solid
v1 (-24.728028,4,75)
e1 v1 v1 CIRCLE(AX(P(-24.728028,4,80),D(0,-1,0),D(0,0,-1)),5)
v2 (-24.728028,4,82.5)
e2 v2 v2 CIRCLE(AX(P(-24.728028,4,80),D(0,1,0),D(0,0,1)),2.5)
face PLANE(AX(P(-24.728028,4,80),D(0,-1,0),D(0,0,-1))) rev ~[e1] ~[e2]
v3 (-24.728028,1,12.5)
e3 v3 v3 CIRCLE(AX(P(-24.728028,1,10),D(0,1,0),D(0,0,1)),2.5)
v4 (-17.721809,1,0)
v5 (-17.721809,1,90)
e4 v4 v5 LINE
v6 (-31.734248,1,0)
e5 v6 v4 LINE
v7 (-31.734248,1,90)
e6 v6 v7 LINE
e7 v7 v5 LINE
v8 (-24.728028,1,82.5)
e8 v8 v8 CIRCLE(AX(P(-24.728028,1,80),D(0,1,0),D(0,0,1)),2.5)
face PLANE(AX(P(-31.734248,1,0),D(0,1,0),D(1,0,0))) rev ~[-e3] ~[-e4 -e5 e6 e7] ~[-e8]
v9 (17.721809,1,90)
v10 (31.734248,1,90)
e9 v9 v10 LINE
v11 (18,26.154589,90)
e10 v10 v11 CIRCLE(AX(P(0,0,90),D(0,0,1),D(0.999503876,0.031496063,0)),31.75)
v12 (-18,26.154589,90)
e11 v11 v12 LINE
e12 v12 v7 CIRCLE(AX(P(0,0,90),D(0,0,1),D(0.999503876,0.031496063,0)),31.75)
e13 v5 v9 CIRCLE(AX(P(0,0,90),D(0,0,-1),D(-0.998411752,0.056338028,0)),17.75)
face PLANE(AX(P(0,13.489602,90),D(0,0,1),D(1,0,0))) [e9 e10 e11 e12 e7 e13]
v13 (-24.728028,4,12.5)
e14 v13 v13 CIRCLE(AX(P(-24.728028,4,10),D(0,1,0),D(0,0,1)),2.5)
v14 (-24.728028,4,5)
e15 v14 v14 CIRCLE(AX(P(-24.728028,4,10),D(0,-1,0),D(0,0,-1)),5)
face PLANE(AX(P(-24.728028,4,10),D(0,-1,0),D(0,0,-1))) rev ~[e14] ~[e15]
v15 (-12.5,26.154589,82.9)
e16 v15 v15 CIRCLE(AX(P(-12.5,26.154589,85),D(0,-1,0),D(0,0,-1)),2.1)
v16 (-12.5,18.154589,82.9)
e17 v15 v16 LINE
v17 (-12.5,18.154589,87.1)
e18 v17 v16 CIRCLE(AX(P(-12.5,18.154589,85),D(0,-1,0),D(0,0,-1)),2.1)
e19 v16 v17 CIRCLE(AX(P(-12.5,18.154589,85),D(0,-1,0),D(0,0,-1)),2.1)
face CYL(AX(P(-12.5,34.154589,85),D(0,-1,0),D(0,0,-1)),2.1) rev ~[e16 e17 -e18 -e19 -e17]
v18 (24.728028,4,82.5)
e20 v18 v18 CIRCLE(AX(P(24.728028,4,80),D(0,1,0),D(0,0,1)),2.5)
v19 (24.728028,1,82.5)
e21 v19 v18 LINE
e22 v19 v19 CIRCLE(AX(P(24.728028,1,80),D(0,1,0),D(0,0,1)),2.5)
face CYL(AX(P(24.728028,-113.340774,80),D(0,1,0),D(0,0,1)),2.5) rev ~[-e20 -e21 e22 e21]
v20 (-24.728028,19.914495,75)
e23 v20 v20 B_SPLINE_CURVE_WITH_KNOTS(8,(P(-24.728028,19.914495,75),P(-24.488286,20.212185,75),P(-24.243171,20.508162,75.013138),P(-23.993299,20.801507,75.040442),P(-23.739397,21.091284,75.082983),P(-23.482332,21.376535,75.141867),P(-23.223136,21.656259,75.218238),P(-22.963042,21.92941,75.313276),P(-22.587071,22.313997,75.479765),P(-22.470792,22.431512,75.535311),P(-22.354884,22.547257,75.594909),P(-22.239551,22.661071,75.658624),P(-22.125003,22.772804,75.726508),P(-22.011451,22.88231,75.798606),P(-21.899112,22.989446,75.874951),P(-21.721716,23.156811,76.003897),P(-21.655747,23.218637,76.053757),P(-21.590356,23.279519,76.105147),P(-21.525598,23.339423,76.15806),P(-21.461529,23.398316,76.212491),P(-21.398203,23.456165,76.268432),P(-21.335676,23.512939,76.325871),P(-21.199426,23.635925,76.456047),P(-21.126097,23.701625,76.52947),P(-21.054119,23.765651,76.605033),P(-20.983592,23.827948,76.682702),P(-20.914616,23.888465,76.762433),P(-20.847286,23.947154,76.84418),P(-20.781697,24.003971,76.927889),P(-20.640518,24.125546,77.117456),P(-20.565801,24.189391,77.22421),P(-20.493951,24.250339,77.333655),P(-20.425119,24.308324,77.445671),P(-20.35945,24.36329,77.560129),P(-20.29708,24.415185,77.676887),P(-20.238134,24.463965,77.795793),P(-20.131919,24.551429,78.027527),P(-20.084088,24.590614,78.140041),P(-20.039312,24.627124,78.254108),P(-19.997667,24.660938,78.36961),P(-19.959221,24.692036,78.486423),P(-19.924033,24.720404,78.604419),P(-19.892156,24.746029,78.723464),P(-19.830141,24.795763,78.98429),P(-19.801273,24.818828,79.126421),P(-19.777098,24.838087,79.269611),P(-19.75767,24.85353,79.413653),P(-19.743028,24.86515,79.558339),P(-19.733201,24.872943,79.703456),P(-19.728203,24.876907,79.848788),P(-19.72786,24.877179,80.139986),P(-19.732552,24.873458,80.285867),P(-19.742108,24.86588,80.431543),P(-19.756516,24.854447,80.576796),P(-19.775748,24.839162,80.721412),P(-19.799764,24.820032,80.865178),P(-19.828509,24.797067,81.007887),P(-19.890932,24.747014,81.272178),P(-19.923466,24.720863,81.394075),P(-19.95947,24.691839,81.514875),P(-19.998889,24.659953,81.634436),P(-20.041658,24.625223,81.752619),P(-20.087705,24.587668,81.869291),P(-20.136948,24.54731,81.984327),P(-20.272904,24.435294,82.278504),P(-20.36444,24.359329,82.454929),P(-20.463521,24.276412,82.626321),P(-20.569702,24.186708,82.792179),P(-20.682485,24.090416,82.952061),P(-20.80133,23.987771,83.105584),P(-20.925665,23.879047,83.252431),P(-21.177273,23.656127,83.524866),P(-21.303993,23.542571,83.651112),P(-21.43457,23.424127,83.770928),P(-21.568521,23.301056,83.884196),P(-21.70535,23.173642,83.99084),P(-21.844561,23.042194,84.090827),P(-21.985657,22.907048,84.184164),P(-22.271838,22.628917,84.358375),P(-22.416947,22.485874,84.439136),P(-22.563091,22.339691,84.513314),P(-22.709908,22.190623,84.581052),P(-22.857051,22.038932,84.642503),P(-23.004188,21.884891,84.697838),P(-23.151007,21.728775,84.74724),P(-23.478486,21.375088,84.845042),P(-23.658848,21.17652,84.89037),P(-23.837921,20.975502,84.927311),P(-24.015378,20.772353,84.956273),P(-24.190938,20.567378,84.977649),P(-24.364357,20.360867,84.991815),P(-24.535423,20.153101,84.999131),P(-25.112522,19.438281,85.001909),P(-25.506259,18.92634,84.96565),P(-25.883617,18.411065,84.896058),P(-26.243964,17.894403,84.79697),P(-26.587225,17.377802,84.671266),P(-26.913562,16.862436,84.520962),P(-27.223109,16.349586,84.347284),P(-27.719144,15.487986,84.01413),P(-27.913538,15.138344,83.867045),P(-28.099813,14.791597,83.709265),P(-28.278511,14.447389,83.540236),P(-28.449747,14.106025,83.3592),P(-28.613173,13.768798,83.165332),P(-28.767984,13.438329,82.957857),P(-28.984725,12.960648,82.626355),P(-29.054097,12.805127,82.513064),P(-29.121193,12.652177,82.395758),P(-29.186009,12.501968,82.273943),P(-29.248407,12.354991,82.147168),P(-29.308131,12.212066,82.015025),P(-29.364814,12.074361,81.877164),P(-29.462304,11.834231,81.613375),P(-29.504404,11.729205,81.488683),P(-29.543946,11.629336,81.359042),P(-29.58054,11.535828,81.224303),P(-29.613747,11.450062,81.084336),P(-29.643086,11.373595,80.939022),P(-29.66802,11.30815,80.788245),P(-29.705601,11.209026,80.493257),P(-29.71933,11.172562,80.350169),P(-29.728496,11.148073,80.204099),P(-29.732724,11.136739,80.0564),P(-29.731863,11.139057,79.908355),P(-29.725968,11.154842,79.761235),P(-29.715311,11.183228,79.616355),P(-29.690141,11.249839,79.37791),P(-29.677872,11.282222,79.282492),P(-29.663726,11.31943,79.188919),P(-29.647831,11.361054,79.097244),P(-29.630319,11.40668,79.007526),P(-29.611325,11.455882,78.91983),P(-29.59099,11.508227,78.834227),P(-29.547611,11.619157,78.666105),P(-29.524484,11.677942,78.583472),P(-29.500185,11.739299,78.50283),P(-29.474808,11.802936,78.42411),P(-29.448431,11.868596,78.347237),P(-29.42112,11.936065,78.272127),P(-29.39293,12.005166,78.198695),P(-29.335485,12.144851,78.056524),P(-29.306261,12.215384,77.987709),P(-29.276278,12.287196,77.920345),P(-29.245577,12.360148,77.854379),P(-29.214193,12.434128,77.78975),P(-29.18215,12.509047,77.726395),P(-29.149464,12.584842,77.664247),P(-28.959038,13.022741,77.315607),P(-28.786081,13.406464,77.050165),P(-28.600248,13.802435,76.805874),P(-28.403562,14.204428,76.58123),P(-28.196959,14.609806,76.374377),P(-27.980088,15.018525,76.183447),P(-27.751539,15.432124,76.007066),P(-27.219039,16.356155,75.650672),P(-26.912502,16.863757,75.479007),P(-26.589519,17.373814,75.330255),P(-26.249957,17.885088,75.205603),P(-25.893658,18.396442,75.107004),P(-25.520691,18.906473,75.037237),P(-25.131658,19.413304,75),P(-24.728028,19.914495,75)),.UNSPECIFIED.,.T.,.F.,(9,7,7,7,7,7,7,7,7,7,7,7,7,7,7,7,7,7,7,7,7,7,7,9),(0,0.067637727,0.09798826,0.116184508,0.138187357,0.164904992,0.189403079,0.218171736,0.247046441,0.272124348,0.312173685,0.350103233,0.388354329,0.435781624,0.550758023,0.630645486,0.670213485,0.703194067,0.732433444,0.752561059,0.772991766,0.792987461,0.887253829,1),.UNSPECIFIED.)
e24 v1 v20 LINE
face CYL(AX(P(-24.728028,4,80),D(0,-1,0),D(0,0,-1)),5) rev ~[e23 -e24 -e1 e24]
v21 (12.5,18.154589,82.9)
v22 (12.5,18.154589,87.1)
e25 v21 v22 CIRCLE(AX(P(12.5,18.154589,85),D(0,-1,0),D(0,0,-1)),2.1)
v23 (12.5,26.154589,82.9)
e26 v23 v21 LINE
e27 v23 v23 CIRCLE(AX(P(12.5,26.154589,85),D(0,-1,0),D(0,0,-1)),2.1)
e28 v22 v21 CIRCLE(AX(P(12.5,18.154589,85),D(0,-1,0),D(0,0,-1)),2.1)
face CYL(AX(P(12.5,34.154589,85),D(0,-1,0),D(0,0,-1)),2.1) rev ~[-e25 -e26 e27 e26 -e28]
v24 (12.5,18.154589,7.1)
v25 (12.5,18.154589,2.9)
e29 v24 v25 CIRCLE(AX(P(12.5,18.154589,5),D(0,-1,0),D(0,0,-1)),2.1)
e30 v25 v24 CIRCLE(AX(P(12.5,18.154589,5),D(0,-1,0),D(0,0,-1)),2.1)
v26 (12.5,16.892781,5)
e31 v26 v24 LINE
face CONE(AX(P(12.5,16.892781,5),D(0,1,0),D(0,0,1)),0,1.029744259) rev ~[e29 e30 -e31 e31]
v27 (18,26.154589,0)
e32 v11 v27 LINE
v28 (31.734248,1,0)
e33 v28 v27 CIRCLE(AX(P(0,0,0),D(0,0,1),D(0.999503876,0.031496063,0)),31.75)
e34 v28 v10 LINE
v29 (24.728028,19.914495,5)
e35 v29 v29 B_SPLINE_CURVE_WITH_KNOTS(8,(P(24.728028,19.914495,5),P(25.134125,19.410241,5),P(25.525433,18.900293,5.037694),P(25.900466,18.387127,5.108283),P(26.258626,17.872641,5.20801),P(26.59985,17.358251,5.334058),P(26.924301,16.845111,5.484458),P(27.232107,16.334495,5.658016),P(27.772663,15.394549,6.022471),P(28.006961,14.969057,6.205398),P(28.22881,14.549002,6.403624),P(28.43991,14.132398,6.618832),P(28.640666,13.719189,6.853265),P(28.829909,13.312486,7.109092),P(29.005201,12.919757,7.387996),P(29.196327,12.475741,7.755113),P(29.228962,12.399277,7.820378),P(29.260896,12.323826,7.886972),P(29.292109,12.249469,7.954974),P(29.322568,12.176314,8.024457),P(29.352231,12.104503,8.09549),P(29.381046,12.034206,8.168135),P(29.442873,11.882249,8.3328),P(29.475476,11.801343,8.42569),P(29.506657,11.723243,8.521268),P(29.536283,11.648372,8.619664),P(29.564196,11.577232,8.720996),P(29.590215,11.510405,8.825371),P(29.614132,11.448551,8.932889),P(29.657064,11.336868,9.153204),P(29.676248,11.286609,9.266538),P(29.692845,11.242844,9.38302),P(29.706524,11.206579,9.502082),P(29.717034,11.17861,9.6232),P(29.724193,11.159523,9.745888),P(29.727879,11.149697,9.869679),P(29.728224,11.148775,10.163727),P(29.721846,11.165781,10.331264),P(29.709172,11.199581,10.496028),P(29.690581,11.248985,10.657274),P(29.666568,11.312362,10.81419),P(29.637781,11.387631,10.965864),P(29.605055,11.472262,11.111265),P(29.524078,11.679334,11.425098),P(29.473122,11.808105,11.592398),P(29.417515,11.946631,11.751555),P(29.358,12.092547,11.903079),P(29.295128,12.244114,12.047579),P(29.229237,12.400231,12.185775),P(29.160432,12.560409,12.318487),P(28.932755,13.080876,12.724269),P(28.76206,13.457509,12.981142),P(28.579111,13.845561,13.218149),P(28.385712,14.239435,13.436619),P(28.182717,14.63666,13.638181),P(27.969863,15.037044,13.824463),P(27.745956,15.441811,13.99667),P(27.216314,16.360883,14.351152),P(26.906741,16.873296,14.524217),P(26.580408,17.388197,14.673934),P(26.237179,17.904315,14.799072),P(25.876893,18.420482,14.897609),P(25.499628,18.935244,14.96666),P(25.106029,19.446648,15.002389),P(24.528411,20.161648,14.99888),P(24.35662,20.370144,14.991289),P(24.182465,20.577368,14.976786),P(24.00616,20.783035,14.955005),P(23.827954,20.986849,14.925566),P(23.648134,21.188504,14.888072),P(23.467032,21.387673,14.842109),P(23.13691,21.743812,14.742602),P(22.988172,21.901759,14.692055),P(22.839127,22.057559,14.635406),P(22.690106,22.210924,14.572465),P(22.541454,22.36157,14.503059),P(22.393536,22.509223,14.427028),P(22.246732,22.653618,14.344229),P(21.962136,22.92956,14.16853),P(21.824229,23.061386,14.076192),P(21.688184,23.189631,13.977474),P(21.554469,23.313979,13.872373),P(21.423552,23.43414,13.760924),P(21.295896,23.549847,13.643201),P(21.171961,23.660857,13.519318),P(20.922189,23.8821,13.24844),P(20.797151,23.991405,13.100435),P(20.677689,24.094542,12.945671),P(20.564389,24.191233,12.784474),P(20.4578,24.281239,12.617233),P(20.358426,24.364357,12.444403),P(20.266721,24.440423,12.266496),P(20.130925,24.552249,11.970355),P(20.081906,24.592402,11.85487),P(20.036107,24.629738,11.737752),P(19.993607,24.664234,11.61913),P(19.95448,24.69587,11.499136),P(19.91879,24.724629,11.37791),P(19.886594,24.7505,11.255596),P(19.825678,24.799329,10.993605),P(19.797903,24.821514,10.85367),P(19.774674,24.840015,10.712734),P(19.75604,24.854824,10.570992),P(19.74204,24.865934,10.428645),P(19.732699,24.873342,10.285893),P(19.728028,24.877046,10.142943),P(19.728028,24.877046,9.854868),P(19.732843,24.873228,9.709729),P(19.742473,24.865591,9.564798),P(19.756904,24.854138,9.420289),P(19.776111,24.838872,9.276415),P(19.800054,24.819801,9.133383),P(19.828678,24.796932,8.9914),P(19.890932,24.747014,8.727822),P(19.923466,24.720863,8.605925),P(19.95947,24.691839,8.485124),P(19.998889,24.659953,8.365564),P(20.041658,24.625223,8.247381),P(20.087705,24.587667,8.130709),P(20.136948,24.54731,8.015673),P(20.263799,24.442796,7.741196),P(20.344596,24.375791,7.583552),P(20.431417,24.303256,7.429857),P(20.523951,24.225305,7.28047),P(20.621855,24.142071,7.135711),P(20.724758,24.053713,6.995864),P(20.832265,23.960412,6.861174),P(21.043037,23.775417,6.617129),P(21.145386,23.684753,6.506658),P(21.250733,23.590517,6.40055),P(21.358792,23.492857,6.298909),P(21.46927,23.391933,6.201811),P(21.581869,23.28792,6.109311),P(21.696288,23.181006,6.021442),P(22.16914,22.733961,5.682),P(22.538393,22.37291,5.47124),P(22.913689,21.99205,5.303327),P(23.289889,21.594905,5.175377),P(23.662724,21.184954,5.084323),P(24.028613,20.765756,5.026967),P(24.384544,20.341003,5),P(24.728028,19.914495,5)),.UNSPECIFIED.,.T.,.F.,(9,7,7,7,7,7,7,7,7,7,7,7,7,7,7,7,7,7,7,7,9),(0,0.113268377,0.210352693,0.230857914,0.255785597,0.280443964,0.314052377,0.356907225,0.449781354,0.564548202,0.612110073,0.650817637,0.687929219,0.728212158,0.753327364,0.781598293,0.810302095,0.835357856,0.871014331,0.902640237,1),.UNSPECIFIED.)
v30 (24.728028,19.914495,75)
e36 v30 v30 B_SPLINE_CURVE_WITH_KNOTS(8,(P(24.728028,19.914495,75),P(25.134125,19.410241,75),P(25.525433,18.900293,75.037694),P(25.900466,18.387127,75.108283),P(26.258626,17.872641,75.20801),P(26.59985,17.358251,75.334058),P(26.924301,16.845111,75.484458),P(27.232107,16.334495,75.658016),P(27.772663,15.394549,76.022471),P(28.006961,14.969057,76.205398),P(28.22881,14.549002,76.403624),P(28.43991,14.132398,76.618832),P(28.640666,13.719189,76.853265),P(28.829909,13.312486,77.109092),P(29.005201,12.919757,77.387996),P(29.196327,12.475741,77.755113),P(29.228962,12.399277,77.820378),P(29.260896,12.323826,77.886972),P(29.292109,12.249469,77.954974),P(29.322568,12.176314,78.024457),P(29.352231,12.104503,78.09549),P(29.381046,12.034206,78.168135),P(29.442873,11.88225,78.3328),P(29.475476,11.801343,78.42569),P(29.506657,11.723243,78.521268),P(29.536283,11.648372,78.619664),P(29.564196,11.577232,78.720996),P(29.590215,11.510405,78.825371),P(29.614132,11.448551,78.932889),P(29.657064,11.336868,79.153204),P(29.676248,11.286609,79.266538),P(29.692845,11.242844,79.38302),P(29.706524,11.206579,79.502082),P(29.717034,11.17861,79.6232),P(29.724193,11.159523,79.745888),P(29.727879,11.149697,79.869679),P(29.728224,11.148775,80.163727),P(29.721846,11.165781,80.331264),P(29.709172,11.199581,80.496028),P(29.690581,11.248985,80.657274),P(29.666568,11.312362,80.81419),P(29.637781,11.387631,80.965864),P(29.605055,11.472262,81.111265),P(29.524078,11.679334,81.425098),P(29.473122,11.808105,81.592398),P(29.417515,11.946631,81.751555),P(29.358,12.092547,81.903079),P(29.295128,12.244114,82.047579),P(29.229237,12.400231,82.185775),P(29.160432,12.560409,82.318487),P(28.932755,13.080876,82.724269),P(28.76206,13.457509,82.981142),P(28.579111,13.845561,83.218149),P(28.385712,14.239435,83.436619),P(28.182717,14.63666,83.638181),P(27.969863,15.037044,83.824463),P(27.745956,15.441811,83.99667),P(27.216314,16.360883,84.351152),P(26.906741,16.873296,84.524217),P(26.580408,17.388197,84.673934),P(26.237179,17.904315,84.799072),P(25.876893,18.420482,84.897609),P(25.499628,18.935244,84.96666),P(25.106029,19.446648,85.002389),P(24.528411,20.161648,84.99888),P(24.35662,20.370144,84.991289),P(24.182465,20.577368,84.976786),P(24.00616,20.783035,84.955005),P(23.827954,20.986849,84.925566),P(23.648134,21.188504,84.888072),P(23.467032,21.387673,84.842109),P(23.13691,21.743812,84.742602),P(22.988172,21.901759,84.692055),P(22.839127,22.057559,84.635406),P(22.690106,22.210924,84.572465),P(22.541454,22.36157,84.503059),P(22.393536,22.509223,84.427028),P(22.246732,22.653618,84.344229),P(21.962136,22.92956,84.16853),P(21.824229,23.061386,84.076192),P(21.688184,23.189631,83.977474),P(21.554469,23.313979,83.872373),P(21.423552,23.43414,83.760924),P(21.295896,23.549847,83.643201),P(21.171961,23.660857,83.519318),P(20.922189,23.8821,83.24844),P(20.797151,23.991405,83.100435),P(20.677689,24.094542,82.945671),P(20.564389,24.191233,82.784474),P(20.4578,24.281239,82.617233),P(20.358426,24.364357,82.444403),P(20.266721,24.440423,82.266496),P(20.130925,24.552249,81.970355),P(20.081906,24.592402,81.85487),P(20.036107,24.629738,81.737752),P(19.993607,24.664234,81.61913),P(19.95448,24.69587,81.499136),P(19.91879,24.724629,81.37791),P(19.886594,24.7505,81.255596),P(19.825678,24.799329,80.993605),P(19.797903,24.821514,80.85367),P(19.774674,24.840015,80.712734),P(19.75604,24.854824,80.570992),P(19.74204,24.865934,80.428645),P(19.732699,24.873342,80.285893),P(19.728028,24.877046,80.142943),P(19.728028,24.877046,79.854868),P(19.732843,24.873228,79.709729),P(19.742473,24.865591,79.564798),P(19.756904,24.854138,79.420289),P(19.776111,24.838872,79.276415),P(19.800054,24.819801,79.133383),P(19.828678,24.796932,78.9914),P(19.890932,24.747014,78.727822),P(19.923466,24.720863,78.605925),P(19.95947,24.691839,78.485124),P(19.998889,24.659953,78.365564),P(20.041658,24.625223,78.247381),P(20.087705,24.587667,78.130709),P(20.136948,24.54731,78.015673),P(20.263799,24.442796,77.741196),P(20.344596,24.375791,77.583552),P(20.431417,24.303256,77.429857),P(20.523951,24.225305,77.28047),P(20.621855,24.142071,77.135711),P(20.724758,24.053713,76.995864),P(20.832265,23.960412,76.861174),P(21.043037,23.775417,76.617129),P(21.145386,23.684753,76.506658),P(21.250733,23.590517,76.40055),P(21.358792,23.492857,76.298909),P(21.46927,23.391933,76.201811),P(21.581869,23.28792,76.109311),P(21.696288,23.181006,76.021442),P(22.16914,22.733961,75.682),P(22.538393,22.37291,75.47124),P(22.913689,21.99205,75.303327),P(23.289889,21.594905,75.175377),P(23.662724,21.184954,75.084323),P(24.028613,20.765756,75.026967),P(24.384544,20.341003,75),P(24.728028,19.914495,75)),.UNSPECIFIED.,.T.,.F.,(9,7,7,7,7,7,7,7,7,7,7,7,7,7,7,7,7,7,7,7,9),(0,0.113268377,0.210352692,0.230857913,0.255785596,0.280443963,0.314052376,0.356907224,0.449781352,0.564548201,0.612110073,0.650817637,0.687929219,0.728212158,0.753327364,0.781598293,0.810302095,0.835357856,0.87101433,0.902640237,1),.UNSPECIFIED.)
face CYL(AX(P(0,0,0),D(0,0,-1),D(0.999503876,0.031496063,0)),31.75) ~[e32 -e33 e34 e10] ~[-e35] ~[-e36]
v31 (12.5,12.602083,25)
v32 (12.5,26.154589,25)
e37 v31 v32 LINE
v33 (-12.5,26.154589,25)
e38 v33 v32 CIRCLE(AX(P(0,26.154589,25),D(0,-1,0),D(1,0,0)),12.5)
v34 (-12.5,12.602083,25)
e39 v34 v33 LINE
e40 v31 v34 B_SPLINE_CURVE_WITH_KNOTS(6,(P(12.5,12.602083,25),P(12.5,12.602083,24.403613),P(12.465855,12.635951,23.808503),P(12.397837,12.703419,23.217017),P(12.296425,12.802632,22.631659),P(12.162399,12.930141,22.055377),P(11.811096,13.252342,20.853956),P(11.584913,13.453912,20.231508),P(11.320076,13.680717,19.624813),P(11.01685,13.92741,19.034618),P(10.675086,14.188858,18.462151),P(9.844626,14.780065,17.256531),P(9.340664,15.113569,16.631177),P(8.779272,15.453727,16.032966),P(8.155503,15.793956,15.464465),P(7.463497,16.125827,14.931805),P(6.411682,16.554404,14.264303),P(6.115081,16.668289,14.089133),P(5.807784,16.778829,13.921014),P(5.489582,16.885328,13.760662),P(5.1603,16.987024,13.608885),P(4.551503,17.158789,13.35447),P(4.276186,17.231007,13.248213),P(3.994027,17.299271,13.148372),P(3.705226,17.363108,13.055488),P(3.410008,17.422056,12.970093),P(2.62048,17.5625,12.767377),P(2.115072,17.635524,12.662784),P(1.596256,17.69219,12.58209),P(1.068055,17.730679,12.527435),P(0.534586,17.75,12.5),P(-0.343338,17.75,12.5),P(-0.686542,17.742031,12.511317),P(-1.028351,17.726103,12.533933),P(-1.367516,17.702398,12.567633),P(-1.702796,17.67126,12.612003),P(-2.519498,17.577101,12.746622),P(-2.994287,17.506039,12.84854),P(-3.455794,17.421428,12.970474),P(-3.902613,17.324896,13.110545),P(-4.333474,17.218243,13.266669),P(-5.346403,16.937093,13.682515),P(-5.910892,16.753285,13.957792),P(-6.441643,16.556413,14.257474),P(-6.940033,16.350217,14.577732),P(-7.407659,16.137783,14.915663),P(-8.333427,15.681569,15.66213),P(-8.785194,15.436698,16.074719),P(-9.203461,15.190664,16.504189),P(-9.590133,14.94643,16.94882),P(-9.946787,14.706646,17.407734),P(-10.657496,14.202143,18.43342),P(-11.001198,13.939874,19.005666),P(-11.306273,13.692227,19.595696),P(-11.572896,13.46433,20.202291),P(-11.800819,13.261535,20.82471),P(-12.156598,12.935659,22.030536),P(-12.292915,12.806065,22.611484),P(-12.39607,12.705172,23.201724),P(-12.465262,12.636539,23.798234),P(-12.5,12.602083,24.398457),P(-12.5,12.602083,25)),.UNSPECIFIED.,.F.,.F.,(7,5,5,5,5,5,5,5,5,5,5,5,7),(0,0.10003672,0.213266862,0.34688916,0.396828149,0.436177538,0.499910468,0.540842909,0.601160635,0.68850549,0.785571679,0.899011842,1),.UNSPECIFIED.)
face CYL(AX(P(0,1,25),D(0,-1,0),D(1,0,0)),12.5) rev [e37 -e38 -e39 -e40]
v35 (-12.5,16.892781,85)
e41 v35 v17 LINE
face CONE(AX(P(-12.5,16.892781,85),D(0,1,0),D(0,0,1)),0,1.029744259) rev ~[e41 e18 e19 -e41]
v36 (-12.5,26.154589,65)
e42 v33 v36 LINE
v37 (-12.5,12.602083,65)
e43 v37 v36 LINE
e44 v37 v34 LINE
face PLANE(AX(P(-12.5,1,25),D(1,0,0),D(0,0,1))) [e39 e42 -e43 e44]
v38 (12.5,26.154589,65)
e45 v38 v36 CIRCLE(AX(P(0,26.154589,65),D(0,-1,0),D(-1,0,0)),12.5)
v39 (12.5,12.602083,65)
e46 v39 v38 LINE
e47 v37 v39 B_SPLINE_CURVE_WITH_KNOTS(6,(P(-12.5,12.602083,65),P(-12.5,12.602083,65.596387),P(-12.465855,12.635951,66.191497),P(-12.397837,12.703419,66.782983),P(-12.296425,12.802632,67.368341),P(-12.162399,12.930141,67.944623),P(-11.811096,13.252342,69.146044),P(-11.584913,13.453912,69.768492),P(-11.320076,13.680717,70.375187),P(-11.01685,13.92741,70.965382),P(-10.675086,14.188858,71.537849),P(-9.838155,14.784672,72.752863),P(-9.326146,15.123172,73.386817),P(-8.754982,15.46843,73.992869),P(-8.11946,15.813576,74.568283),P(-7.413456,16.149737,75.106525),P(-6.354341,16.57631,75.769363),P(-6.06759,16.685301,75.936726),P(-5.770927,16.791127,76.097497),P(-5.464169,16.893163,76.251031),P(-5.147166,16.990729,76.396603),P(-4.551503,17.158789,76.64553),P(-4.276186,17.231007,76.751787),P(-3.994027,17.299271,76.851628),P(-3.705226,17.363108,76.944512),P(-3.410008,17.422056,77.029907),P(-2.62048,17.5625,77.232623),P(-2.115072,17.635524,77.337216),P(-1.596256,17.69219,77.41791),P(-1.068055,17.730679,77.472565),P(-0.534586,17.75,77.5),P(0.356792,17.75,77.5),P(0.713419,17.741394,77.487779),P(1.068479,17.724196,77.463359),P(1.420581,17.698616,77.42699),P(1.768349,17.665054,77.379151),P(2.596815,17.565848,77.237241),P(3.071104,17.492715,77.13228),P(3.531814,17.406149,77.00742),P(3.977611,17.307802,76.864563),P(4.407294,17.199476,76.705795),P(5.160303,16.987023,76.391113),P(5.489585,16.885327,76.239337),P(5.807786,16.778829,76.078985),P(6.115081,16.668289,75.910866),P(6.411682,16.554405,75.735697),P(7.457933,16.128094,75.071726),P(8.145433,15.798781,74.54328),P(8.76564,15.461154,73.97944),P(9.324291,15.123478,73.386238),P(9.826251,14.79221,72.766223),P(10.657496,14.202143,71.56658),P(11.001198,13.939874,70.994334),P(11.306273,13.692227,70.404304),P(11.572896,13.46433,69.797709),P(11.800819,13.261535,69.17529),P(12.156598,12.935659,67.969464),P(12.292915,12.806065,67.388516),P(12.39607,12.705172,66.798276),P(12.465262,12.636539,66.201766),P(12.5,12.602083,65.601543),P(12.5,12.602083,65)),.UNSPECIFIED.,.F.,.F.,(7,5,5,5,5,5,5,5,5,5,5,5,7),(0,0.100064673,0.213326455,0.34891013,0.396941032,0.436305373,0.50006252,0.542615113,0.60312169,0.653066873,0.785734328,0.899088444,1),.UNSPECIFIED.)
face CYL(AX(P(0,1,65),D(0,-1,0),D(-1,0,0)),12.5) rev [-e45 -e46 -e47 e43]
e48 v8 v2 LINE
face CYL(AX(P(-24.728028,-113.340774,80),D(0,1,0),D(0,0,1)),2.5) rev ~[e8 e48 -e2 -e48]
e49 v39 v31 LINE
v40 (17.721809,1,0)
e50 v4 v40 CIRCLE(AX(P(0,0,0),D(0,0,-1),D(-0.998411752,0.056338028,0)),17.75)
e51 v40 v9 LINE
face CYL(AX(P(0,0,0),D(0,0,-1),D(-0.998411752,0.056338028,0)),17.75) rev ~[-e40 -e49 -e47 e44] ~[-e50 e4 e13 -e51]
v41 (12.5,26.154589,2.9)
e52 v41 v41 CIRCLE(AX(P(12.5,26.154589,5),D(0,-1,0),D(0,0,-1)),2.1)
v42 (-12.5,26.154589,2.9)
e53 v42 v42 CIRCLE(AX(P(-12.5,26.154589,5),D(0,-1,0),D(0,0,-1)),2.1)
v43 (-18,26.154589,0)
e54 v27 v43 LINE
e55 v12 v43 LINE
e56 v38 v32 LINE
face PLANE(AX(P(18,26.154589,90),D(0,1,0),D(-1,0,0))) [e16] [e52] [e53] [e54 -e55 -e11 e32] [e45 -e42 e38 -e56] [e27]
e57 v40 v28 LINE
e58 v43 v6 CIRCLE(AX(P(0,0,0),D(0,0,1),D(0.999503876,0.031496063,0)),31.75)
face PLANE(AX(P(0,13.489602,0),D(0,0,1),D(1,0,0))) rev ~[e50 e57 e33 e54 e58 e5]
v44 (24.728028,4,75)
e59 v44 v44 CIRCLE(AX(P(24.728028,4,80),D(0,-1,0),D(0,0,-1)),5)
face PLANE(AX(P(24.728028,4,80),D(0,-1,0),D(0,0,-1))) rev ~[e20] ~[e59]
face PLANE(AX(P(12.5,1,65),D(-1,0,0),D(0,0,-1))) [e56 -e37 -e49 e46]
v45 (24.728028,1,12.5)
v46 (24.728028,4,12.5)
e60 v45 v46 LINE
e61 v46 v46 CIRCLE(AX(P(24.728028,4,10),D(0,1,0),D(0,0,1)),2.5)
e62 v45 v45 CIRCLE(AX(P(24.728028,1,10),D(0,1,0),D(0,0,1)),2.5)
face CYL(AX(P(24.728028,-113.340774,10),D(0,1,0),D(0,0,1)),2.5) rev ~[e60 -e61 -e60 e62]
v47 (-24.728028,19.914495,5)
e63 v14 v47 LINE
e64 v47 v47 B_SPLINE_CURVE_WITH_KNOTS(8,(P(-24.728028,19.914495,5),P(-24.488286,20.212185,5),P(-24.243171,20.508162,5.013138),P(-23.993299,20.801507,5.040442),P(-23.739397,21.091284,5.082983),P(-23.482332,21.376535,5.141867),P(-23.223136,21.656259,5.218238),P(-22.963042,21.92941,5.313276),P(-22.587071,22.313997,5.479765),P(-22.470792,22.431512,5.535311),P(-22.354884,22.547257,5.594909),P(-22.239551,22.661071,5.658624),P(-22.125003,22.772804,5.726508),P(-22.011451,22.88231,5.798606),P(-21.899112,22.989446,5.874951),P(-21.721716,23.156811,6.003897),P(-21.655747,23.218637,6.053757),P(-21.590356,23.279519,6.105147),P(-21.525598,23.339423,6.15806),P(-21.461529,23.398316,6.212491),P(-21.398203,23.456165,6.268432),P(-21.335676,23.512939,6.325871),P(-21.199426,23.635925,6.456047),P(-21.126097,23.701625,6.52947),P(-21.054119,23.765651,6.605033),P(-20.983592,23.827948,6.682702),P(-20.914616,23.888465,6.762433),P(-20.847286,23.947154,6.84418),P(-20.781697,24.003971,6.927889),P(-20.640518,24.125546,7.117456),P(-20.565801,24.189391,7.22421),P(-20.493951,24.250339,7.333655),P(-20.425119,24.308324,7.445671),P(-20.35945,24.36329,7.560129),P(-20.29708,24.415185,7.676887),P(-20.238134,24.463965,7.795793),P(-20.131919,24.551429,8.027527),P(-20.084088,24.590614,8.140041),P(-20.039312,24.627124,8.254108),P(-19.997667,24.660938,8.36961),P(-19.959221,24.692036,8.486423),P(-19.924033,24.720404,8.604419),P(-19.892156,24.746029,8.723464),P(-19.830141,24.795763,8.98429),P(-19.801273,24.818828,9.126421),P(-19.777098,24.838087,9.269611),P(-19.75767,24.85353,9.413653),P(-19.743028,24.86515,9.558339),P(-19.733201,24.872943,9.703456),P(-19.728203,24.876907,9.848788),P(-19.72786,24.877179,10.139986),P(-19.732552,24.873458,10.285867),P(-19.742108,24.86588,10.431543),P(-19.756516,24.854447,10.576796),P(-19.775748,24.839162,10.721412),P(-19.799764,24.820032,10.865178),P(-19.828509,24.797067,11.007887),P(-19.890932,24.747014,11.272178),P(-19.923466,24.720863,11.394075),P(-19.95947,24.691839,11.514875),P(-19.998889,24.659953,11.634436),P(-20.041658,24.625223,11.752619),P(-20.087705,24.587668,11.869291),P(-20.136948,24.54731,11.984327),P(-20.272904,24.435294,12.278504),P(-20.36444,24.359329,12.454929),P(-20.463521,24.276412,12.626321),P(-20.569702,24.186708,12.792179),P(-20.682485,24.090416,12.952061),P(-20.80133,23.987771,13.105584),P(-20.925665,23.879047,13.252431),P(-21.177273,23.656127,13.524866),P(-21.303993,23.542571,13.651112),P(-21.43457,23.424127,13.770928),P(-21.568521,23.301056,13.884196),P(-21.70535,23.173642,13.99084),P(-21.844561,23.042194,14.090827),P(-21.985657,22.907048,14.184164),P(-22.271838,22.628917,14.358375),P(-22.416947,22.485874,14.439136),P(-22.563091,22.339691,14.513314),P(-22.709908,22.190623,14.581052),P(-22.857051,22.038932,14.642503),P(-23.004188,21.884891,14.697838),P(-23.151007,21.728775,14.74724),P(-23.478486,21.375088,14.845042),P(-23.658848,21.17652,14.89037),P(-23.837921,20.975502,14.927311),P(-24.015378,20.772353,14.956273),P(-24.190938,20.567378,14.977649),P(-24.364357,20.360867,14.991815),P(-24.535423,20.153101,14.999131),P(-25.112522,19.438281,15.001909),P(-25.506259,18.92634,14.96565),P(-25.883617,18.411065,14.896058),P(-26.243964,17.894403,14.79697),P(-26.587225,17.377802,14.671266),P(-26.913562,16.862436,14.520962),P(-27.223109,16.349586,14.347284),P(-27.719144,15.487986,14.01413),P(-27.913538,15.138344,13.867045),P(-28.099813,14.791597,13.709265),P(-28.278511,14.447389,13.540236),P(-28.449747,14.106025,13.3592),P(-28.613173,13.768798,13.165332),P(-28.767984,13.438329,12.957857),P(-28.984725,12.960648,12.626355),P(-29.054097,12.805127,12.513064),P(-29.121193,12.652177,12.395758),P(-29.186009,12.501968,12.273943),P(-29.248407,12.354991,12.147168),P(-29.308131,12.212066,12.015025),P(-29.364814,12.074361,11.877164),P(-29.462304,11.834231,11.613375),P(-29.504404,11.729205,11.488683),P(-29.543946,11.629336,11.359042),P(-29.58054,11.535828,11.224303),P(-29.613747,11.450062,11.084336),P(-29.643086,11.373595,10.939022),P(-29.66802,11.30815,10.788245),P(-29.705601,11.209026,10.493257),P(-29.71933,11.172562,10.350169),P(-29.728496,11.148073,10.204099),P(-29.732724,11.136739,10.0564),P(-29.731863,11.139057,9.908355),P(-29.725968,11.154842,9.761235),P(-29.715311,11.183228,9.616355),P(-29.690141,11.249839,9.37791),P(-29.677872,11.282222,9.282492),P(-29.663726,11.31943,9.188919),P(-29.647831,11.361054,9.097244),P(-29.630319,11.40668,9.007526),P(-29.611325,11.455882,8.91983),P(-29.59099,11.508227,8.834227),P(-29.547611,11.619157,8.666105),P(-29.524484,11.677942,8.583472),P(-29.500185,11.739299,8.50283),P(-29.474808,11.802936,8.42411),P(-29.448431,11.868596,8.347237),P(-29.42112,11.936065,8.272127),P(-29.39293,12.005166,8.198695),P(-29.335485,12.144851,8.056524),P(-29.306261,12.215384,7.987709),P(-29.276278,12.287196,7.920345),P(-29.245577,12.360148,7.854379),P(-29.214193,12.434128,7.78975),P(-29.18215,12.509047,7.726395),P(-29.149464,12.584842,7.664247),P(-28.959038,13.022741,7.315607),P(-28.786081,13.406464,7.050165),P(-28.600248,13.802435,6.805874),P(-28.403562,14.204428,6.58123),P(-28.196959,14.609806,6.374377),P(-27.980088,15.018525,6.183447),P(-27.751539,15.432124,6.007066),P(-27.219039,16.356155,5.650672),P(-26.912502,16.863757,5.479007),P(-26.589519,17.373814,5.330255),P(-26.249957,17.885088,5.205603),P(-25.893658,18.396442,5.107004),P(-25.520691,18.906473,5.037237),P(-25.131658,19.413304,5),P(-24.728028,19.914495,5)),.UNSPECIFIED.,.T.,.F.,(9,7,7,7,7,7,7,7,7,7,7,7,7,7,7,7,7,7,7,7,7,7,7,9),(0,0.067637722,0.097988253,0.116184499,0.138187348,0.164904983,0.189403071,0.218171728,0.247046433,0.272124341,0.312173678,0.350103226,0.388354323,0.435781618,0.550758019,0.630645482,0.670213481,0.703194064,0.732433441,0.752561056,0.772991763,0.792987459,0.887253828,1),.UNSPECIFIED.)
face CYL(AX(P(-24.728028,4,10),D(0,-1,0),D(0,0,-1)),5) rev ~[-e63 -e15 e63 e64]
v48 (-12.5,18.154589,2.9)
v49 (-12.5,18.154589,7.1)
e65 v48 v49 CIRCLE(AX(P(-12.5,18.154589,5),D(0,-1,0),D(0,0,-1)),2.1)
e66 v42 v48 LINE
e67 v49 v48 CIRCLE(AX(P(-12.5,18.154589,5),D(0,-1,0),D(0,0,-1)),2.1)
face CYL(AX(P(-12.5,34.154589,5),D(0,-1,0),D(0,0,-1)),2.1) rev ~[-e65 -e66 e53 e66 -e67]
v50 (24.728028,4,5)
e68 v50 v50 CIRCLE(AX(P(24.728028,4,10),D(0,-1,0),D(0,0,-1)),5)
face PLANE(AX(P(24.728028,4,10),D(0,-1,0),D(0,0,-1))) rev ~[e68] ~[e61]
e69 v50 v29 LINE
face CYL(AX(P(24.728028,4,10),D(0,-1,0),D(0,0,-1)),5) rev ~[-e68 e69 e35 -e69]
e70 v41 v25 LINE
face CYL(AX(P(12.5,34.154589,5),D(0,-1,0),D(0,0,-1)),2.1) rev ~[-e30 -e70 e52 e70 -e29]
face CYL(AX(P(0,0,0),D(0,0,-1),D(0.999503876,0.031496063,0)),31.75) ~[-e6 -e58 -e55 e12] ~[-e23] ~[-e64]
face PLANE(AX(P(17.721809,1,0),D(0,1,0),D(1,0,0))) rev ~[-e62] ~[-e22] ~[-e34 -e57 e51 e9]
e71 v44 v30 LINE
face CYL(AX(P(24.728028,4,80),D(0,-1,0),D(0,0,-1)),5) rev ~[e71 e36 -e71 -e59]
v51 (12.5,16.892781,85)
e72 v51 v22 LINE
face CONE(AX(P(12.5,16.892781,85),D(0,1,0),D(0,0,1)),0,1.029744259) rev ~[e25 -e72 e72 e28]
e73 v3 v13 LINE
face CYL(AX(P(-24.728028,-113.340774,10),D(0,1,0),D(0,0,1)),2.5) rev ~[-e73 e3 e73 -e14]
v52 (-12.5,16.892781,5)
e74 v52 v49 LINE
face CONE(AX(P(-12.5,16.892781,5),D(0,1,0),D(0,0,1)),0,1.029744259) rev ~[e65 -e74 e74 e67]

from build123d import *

# Parameters (mm, degrees)
BOSS_EXTRUDE1_DEPTH             = 90
F_5_0MM_CLEARANCE_DOWEL_HOLE1_D = 5
CUT_EXTRUDE1_REACH              = 101.384
CUT_EXTRUDE1_END_RADIUS         = 31.75
SKETCH4_R                       = 5
CUT_EXTRUDE3_DEPTH              = 101.5739779
CUT_EXTRUDE4_REACH              = 100.691
TAP_DRILL_FOR_M5X0_8_TAP1_D     = 4.2
TAP_DRILL_FOR_M5X0_8_TAP1_DEPTH = 8
TAP_DRILL_FOR_M5X0_8_TAP1_TIP   = 1.2618073


with BuildPart() as part:
    # Sketch1 → Boss-Extrude1 (new body)
    with BuildSketch(Plane.XY):
        with BuildLine():
            Line((-31.734248061, 1), (-17.721808598, 1))
            ThreePointArc((-17.721808598, 1), (0, 17.75), (17.721808598, 1))
            Line((17.721808598, 1), (31.734248061, 1))
            ThreePointArc((31.734248061, 1), (0, 31.75), (-31.734248061, 1))
        make_face()
    extrude(amount=BOSS_EXTRUDE1_DEPTH)

    # Ø5.0mm Clearance Dowel Hole1 (through all)
    with Locations(Plane(origin=(-24.72802833, 1, 80), x_dir=(0, 0, -1), z_dir=(0, -1, 0))):
        with Locations((0, 0), (70, 0), (0, 49.45605666), (70, 49.45605666)):
            Hole(F_5_0MM_CLEARANCE_DOWEL_HOLE1_D / 2)

    # Cut-Extrude1: up to this cylinder (the profile starts inside it)
    cut_extrude1_end = Plane(origin=(0, 0, 45), z_dir=(0, 0, -1)) * Cylinder(CUT_EXTRUDE1_END_RADIUS, 337.268, mode=Mode.PRIVATE)
    # Sketch4 → Cut-Extrude1 (cut, up to the surface)
    with BuildSketch(Plane(origin=(0, 4, 0), x_dir=(-1, 0, 0), z_dir=(0, -1, 0)), mode=Mode.PRIVATE) as cut_extrude1_sk1:
        with Locations(Location((24.72802833, -80, 0), (0, 0, 90))):
            Circle(SKETCH4_R)
    cut_extrude1_tool1 = extrude(cut_extrude1_sk1.sketch, amount=-CUT_EXTRUDE1_REACH, mode=Mode.PRIVATE) & cut_extrude1_end
    add(cut_extrude1_tool1.solids().sort_by_distance((-24.728028, 4, 80))[0], mode=Mode.SUBTRACT)
    # Sketch4 → Cut-Extrude1 (cut, up to the surface)
    with BuildSketch(Plane(origin=(0, 4, 0), x_dir=(-1, 0, 0), z_dir=(0, -1, 0)), mode=Mode.PRIVATE) as cut_extrude1_sk2:
        with Locations(Location((24.72802833, -10, 0), (0, 0, 90))):
            Circle(SKETCH4_R)
    cut_extrude1_tool2 = extrude(cut_extrude1_sk2.sketch, amount=-CUT_EXTRUDE1_REACH, mode=Mode.PRIVATE) & cut_extrude1_end
    add(cut_extrude1_tool2.solids().sort_by_distance((-24.728028, 4, 10))[0], mode=Mode.SUBTRACT)
    # Sketch4 → Cut-Extrude1 (cut, up to the surface)
    with BuildSketch(Plane(origin=(0, 4, 0), x_dir=(-1, 0, 0), z_dir=(0, -1, 0)), mode=Mode.PRIVATE) as cut_extrude1_sk3:
        with Locations(Location((-24.72802833, -10, 0), (0, 0, 90))):
            Circle(SKETCH4_R)
    cut_extrude1_tool3 = extrude(cut_extrude1_sk3.sketch, amount=-CUT_EXTRUDE1_REACH, mode=Mode.PRIVATE) & cut_extrude1_end
    add(cut_extrude1_tool3.solids().sort_by_distance((24.728028, 4, 10))[0], mode=Mode.SUBTRACT)
    # Sketch4 → Cut-Extrude1 (cut, up to the surface)
    with BuildSketch(Plane(origin=(0, 4, 0), x_dir=(-1, 0, 0), z_dir=(0, -1, 0)), mode=Mode.PRIVATE) as cut_extrude1_sk4:
        with Locations(Location((-24.72802833, -80, 0), (0, 0, 90))):
            Circle(SKETCH4_R)
    cut_extrude1_tool4 = extrude(cut_extrude1_sk4.sketch, amount=-CUT_EXTRUDE1_REACH, mode=Mode.PRIVATE) & cut_extrude1_end
    add(cut_extrude1_tool4.solids().sort_by_distance((24.728028, 4, 80))[0], mode=Mode.SUBTRACT)

    # Sketch8 → Cut-Extrude3 (cut, through all)
    with BuildSketch(Plane.XY.offset(90)):
        with BuildLine():
            Line((18, 26.154588508), (-18, 26.154588508))
            ThreePointArc((-18, 26.154588508), (0, 31.75), (18, 26.154588508))
        make_face()
    extrude(amount=-CUT_EXTRUDE3_DEPTH, mode=Mode.SUBTRACT)

    # Sketch9 → Cut-Extrude4 (cut, up to next)
    with BuildSketch(Plane.XZ.offset(-1), mode=Mode.PRIVATE) as cut_extrude4_sk1:
        with BuildLine():
            Line((-12.5, 25), (-12.5, 65))
            ThreePointArc((-12.5, 65), (0, 77.5), (12.5, 65))
            Line((12.5, 65), (12.5, 25))
            ThreePointArc((12.5, 25), (0, 12.5), (-12.5, 25))
        make_face()
    cut_extrude4_tool1 = extrude(cut_extrude4_sk1.sketch, amount=-CUT_EXTRUDE4_REACH, mode=Mode.PRIVATE) & part.part
    add(cut_extrude4_tool1.solids().sort_by_distance((0, 1, 45))[0], mode=Mode.SUBTRACT)

    # Tap Drill for M5x0.8 Tap1
    with Locations(Plane(origin=(-12.5, 26.154588508, 5), x_dir=(0, 0, 1), z_dir=(0, 1, 0))):
        with Locations((0, 0), (0, 25), (80, 25), (80, 0)):
            Hole(TAP_DRILL_FOR_M5X0_8_TAP1_D / 2, depth=TAP_DRILL_FOR_M5X0_8_TAP1_DEPTH)
            with Locations((0, 0, -(TAP_DRILL_FOR_M5X0_8_TAP1_DEPTH + TAP_DRILL_FOR_M5X0_8_TAP1_TIP / 2))):  # 118° drill point
                Cone(0, TAP_DRILL_FOR_M5X0_8_TAP1_D / 2, TAP_DRILL_FOR_M5X0_8_TAP1_TIP, mode=Mode.SUBTRACT)


solid = part.part
